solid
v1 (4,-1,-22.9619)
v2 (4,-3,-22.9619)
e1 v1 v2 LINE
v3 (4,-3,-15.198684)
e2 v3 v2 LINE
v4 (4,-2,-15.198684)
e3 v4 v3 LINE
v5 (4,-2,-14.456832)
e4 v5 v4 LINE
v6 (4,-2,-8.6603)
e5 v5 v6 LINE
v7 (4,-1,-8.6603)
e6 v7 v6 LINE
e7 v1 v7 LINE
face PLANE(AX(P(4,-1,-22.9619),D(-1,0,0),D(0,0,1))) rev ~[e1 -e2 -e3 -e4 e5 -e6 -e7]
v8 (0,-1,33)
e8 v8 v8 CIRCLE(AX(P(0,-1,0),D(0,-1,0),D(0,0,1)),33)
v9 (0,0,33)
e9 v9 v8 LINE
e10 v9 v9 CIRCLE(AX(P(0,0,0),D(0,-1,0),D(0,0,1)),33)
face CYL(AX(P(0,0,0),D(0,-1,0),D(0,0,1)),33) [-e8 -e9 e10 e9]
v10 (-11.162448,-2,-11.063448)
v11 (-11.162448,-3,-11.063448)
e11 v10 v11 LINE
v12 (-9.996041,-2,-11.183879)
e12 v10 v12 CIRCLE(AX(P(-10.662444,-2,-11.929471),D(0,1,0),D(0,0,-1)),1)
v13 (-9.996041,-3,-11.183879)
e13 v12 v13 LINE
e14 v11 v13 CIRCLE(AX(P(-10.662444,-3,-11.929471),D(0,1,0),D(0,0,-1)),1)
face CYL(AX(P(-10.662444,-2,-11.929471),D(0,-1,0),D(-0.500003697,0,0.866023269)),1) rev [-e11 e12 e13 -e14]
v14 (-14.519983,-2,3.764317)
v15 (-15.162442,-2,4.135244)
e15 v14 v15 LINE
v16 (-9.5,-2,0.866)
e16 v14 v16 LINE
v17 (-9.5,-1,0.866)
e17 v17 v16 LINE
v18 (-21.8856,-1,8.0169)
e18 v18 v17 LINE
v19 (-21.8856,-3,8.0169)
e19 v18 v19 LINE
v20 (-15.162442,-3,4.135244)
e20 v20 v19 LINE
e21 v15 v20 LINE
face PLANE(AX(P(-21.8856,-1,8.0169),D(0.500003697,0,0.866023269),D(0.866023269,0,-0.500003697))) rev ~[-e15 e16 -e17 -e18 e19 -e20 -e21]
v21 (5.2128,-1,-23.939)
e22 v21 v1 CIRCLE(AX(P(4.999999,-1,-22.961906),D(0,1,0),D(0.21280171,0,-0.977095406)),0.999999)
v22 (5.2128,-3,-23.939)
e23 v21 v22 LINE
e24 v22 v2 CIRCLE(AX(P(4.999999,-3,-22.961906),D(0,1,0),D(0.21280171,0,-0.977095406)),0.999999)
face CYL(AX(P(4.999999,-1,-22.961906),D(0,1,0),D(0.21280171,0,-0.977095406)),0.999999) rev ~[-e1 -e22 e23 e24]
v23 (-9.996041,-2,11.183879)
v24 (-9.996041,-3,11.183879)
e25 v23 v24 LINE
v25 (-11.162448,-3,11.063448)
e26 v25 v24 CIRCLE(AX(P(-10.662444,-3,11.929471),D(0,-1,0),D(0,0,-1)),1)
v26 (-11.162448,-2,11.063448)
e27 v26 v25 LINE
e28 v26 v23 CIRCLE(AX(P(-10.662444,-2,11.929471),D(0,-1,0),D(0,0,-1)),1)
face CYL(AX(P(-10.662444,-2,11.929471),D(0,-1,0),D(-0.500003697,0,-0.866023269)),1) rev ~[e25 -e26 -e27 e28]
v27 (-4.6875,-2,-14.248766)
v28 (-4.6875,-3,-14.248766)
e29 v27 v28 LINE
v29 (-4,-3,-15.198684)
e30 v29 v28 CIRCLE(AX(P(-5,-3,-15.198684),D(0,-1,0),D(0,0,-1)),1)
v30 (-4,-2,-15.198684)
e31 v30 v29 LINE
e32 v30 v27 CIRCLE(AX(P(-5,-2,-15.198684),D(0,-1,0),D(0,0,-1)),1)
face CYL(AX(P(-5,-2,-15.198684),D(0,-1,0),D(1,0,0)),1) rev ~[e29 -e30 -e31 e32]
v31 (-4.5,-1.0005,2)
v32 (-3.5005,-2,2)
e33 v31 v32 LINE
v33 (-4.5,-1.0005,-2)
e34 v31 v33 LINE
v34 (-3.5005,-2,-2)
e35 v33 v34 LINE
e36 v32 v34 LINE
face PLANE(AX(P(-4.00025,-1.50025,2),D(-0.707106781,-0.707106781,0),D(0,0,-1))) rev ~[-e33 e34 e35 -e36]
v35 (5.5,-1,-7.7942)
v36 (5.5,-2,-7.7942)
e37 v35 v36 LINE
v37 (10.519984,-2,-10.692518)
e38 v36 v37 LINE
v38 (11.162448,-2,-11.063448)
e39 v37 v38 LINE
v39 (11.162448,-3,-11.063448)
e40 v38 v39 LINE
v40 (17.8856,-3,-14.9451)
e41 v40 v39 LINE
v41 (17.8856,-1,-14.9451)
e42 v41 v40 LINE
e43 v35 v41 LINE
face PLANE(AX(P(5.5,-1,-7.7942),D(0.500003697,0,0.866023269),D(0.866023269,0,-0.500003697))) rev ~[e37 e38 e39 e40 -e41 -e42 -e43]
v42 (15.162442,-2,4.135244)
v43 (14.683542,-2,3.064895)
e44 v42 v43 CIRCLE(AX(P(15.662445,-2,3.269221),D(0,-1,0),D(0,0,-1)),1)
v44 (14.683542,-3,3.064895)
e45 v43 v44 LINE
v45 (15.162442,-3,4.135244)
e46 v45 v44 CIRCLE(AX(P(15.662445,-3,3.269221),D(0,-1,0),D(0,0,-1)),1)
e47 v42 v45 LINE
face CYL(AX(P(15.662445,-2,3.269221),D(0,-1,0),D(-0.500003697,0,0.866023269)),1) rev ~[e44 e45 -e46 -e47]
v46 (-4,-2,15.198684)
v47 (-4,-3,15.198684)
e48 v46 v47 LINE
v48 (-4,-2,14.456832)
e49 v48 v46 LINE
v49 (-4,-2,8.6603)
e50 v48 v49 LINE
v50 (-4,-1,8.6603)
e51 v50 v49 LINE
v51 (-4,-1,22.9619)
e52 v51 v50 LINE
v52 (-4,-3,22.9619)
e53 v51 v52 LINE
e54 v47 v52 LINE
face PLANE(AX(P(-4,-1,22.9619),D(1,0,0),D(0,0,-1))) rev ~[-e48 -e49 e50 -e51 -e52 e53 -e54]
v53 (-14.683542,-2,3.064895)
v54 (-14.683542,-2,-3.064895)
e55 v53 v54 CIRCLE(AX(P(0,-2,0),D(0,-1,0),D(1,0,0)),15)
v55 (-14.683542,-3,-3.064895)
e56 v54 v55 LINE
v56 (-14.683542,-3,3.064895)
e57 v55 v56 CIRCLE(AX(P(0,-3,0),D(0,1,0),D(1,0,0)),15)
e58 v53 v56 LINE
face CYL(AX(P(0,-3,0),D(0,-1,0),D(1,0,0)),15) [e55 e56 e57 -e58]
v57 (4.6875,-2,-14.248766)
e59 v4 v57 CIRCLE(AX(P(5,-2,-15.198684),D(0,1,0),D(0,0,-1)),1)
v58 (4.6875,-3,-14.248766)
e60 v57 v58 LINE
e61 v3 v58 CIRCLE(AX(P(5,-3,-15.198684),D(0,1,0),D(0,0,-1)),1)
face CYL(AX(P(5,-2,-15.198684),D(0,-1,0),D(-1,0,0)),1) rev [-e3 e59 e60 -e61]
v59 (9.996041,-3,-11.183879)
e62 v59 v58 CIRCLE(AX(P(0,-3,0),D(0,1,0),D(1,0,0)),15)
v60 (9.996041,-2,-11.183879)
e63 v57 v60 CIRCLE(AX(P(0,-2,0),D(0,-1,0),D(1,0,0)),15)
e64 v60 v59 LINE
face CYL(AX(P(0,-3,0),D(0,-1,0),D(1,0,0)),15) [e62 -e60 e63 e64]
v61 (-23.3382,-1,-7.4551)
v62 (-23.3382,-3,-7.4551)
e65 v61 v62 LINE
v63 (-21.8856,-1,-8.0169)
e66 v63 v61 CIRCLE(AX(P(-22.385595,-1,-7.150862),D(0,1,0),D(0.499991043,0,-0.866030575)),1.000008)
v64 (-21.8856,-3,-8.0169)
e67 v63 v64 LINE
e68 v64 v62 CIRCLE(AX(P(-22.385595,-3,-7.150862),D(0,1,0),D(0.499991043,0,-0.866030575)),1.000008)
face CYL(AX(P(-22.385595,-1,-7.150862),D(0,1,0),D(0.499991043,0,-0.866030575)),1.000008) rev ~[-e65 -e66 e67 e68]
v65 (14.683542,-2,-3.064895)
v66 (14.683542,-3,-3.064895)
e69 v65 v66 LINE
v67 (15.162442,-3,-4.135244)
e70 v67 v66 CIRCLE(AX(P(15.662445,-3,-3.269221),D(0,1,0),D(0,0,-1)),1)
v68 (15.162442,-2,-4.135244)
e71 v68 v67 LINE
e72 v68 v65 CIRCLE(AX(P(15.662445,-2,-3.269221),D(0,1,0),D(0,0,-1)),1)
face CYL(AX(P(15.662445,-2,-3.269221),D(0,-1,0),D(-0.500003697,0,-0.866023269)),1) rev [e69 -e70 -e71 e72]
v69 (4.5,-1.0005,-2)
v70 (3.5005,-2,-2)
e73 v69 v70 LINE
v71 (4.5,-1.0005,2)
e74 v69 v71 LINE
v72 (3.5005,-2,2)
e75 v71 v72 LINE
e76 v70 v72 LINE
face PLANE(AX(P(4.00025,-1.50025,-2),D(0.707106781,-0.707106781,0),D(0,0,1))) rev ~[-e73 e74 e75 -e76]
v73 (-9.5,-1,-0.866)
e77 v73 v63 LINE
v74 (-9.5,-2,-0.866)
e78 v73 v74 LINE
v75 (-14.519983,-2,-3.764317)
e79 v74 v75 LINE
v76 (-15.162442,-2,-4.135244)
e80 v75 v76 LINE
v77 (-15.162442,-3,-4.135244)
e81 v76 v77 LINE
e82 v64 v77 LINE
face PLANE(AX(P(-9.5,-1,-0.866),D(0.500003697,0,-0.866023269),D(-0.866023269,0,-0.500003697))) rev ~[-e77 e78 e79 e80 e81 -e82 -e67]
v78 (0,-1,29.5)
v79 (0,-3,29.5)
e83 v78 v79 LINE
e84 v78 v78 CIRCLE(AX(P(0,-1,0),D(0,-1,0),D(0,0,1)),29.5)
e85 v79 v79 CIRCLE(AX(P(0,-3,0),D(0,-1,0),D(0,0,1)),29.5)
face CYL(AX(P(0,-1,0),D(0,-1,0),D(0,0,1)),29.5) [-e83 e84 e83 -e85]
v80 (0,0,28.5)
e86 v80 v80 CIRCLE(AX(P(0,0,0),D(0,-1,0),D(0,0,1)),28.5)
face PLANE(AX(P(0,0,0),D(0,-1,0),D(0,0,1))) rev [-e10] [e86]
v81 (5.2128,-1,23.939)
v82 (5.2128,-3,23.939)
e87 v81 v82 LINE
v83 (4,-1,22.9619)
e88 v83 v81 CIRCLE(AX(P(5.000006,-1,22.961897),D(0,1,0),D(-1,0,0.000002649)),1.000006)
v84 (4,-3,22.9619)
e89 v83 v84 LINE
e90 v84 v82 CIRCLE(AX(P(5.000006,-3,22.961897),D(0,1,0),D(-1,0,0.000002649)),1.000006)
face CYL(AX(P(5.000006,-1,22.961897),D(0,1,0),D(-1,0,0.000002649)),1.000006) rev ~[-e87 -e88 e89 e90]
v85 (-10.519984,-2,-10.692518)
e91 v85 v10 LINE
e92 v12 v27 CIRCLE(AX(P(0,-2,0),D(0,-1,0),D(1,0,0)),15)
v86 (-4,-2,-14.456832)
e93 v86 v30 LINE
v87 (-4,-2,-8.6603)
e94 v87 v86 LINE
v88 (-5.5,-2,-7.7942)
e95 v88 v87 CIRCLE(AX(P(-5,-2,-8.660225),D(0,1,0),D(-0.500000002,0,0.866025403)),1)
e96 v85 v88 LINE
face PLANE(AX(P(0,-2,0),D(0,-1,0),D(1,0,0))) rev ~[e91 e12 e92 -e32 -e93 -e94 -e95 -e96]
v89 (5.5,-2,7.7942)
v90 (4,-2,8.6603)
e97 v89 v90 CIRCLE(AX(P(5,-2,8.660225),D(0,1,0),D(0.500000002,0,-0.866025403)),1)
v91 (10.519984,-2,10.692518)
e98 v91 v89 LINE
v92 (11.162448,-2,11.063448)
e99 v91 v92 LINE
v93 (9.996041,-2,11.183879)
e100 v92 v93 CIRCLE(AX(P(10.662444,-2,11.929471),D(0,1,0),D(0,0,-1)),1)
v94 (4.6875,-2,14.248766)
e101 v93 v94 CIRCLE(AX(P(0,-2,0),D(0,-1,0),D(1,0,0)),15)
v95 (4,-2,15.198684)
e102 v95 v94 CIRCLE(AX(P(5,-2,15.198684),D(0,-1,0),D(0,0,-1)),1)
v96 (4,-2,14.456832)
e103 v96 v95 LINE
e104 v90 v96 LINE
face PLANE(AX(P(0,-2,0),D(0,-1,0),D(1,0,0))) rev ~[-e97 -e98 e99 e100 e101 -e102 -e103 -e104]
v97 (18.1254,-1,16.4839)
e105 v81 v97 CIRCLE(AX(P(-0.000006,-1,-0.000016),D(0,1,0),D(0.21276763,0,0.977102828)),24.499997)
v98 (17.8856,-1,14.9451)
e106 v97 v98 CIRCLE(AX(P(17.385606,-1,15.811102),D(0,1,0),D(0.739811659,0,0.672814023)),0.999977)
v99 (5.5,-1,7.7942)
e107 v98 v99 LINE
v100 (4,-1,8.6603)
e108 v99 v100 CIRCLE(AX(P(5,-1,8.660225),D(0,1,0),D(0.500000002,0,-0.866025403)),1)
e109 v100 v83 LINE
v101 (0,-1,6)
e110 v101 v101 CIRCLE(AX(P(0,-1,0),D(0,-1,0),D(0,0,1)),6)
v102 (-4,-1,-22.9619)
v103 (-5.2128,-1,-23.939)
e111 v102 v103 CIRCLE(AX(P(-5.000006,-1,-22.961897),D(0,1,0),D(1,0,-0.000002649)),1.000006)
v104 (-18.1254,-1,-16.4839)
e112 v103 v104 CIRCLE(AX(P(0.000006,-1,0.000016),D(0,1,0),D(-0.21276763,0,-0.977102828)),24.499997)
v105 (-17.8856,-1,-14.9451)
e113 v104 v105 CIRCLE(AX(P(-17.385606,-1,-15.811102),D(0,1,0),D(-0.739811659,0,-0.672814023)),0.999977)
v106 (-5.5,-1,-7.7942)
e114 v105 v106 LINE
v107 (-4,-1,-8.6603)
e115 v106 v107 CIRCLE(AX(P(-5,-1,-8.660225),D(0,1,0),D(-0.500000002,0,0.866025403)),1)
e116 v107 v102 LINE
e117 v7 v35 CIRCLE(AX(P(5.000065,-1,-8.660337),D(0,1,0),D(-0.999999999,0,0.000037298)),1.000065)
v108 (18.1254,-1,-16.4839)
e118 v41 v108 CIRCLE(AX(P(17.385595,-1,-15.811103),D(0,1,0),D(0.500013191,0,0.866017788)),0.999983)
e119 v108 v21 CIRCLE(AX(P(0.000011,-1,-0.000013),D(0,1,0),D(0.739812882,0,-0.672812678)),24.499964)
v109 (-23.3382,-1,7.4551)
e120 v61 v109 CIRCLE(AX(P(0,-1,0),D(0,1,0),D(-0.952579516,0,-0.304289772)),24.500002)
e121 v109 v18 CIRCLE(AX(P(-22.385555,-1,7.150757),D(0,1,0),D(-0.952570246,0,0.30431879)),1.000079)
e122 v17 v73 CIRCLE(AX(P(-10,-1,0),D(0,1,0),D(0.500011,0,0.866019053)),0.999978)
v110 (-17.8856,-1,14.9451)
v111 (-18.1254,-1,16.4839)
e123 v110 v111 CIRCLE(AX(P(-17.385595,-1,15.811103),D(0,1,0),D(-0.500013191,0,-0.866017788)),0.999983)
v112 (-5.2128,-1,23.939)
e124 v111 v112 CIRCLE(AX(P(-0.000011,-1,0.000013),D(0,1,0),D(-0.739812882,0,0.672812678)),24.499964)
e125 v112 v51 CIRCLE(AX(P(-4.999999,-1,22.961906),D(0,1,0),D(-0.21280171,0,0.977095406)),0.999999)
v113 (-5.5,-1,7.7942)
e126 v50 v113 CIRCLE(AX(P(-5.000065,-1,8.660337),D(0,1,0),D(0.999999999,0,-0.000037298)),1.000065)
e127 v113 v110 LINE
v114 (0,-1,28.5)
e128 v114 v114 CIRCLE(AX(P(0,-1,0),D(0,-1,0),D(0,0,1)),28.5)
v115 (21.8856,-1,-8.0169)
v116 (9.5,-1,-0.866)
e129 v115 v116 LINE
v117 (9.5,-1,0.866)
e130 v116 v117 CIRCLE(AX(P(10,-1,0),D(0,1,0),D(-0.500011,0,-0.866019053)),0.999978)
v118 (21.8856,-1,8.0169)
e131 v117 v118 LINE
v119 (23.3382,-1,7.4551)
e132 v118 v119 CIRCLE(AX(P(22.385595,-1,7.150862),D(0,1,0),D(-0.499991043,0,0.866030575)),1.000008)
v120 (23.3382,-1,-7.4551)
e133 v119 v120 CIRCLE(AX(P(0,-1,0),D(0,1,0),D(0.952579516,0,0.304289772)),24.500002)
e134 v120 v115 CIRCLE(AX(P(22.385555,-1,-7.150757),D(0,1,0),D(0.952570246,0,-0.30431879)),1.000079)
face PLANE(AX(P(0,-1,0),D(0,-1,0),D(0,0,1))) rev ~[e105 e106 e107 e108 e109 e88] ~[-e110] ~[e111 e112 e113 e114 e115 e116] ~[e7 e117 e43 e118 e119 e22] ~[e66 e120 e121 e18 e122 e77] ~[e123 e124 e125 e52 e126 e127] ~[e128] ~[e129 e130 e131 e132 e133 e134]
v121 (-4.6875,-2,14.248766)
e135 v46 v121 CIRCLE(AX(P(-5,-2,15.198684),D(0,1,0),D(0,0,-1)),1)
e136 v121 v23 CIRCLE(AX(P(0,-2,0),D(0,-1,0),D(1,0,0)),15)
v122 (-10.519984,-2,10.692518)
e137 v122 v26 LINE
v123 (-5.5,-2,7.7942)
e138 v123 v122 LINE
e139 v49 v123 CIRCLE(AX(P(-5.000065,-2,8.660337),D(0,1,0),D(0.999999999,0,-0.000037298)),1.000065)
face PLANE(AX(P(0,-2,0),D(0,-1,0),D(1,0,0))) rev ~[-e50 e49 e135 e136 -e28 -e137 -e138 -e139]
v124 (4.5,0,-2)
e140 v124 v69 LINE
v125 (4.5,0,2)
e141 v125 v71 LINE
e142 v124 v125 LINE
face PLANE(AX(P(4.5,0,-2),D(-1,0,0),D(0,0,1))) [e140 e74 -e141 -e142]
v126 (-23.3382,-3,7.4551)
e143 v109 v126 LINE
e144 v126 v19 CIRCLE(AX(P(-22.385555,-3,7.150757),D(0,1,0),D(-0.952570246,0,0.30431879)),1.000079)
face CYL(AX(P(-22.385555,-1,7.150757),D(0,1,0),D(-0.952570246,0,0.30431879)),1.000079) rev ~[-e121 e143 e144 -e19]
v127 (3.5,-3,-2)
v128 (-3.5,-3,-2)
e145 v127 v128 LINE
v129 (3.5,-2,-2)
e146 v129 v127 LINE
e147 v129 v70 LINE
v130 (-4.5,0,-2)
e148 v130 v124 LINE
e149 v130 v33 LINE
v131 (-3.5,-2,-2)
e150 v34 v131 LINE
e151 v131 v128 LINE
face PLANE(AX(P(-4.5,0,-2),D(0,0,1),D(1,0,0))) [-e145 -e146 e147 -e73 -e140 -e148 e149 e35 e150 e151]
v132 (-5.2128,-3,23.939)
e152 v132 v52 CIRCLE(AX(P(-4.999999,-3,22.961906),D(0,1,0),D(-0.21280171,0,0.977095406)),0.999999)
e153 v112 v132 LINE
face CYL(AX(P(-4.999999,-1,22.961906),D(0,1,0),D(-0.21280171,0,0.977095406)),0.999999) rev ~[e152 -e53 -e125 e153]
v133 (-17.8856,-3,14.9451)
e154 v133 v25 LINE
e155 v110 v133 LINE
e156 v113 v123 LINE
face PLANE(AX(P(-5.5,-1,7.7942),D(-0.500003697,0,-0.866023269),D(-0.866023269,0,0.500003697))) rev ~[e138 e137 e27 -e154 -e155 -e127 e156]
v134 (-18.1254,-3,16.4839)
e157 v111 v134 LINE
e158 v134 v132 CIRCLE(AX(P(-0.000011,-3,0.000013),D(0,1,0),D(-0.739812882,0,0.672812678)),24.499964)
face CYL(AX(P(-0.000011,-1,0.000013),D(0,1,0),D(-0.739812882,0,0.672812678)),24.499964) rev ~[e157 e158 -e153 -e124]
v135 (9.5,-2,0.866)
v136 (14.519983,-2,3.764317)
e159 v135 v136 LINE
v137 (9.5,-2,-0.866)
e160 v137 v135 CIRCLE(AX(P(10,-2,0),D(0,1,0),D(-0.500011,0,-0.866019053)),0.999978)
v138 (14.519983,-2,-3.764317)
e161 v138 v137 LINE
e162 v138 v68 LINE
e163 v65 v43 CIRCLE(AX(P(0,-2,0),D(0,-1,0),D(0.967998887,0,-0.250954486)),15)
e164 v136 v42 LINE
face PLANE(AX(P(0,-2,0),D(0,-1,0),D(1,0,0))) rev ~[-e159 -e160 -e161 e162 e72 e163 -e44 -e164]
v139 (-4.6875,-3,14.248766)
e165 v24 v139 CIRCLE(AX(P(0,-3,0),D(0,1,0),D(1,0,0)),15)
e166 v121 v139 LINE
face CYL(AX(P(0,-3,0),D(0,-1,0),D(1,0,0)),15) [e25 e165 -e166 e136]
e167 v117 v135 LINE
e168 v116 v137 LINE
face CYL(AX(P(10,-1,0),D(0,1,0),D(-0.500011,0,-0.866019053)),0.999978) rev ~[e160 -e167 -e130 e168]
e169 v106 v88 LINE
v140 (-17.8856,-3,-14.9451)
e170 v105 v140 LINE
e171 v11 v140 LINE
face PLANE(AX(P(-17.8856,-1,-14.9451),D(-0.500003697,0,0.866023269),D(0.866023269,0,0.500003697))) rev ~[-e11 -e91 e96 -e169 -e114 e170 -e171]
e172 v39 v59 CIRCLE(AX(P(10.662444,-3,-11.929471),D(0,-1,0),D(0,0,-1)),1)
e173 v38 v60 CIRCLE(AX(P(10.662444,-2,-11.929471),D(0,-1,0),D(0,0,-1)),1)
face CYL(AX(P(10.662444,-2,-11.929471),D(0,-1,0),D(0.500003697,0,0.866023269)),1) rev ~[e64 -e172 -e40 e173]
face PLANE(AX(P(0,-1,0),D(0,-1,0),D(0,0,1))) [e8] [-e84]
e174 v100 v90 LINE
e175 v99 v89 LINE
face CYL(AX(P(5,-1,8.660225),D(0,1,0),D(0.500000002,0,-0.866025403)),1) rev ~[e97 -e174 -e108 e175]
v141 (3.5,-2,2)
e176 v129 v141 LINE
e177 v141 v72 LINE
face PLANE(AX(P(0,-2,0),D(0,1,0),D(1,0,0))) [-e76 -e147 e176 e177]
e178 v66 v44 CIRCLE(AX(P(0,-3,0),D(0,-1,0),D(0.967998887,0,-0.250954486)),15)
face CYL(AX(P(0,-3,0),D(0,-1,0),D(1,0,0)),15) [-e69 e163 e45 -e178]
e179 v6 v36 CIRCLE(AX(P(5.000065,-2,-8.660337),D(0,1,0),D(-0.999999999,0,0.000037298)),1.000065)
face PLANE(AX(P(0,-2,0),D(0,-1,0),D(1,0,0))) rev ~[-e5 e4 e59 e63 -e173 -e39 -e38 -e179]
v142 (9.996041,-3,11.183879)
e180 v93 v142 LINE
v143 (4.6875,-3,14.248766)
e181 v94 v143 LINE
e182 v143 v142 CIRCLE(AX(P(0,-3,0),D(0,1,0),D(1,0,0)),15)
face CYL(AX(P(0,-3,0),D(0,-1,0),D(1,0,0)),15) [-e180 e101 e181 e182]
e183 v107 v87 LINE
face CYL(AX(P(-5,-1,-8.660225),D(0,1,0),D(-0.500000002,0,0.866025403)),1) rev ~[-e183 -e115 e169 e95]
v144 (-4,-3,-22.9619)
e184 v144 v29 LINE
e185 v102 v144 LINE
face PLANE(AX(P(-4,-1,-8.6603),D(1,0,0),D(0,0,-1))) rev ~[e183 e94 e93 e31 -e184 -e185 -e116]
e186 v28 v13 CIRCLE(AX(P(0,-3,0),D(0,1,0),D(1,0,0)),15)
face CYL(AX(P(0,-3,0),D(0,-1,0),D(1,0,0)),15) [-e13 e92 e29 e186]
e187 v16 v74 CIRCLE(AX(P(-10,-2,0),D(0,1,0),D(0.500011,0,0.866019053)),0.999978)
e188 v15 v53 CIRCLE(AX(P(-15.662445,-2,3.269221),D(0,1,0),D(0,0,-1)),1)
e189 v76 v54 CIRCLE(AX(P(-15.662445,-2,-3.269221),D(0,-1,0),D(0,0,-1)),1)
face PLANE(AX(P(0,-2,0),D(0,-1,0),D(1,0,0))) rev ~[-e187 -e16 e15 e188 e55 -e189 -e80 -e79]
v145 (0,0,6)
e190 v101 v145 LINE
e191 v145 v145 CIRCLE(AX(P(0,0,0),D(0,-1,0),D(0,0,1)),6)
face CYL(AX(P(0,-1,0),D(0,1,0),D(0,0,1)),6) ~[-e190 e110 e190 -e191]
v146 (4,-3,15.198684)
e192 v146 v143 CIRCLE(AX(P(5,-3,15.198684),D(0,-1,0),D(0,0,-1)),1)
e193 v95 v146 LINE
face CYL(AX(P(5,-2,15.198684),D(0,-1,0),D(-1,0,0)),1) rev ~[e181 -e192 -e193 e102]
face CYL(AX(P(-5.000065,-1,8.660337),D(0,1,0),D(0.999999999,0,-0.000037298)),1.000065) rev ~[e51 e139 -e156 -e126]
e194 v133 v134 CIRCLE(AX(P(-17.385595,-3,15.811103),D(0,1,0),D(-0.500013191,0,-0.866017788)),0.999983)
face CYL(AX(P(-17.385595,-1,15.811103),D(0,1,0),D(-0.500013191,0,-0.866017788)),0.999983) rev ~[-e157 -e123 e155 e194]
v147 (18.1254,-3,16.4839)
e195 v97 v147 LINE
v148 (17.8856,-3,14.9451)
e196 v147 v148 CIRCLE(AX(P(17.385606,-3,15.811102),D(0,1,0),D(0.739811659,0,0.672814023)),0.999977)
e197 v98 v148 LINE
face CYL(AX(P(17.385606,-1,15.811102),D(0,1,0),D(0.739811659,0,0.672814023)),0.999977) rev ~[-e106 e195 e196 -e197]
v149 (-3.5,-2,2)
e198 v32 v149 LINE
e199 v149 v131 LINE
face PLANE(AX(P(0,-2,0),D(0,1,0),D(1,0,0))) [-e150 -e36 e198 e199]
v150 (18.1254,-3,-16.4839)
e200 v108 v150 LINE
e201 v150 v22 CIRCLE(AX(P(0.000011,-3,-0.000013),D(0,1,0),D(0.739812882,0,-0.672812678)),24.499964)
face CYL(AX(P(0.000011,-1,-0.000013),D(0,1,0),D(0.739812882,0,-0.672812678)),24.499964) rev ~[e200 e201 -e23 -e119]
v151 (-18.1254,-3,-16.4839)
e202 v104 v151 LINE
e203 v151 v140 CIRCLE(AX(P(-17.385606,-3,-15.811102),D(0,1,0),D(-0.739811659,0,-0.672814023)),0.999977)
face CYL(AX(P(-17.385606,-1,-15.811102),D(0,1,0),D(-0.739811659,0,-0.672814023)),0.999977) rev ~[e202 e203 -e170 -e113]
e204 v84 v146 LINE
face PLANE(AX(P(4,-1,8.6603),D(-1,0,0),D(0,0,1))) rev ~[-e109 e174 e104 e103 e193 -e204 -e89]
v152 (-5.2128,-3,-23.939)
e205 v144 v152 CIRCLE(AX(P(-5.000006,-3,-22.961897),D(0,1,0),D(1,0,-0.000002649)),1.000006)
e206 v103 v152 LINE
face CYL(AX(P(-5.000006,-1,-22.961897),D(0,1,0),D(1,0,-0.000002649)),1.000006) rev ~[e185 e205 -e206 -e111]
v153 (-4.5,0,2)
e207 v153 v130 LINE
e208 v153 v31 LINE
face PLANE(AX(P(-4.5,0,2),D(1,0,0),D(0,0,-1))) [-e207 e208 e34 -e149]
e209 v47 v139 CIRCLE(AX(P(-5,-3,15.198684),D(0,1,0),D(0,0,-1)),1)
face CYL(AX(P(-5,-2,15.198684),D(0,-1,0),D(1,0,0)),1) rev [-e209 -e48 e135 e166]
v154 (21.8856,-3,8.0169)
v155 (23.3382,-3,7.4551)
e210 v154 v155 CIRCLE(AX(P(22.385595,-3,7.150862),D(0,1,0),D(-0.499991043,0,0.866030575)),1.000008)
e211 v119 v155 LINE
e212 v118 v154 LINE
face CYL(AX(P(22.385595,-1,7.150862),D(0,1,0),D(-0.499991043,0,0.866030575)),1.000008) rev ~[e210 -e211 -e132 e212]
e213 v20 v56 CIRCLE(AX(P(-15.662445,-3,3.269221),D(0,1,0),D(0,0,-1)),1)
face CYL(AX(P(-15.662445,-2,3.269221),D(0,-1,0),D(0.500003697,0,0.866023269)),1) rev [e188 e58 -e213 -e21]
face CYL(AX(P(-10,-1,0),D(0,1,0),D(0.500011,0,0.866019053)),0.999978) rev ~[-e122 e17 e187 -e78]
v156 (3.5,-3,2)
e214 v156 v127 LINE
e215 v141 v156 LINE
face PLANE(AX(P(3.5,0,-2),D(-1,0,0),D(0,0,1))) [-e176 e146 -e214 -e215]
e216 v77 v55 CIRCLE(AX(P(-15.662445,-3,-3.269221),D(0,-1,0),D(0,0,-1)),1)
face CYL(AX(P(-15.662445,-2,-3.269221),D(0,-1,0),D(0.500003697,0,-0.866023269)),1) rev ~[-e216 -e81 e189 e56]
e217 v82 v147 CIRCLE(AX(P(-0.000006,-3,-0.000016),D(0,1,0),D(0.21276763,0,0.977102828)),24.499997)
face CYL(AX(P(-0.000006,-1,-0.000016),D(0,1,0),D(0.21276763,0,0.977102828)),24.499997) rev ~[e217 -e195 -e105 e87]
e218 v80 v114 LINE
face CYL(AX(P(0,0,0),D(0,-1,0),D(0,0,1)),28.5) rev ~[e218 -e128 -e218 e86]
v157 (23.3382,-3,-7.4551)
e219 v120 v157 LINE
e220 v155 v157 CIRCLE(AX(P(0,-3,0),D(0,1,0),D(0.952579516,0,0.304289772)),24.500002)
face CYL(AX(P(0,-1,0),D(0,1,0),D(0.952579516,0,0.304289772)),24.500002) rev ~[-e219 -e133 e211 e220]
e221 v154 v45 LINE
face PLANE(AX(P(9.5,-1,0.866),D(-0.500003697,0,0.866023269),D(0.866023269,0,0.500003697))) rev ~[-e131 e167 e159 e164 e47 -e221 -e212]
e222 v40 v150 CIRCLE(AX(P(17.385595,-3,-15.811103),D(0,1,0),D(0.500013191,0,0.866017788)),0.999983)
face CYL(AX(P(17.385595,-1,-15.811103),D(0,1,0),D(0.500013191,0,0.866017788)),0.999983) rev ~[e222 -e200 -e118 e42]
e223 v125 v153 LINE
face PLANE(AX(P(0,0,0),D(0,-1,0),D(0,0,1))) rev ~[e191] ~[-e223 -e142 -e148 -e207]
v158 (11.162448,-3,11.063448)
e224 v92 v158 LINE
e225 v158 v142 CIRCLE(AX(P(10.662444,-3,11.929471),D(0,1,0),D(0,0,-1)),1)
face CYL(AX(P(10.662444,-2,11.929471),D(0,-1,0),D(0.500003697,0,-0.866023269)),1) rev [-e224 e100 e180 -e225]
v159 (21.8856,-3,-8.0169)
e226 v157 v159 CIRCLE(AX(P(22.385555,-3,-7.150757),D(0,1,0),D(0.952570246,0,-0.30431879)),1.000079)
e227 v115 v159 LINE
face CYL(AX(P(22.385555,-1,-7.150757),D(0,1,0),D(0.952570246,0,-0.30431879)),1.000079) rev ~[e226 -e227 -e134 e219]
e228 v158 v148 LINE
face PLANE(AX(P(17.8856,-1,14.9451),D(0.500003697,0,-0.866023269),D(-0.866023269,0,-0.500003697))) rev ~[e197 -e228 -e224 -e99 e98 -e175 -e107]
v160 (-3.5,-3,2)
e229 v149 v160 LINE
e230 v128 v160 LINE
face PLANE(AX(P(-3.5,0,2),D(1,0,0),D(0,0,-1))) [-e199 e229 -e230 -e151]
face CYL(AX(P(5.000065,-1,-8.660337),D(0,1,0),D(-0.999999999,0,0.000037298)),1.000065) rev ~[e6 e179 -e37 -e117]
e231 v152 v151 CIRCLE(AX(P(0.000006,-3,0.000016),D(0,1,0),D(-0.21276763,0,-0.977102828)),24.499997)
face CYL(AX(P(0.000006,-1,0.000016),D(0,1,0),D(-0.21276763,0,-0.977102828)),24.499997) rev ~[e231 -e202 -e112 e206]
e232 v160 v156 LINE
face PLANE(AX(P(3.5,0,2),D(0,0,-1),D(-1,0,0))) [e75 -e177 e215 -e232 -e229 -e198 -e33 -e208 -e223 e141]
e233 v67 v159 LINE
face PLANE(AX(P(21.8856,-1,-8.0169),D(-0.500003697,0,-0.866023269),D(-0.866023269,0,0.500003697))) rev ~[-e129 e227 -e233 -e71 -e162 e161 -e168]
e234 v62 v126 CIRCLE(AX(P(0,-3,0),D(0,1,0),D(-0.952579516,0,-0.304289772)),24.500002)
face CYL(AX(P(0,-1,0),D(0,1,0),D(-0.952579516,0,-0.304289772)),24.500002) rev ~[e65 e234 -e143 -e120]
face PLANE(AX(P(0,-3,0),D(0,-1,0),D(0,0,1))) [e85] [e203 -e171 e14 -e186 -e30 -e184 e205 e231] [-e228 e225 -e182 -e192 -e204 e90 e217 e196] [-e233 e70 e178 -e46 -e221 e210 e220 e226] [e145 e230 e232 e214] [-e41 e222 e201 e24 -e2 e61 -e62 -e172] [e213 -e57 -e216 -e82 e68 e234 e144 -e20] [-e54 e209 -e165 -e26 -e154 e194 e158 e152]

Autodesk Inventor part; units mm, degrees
ref_plane "YZ Plane" through (0, 0, 0) normal (1, 0, 0) x (0, 1, 0)
ref_plane "XZ Plane" through (0, 0, 0) normal (0, 1, 0) x (-1, 0, 0)
ref_plane "XY Plane" through (0, 0, 0) normal (0, 0, 1) x (1, 0, 0)
sketch "Sketch1" plane through (0, 0, 0) normal (1, 0, 0) x (0, 1, 0)
  line L0 (0, 0) -> (-3, 0)
  line L1 (0, 28.5) -> (0, 33)
  line L2 (0, 33) -> (-1, 33)
  line L3 (-1, 33) -> (-1, 29.5)
  line L4 (-1, 29.5) -> (-3, 29.5)
  line L5 (-3, 29.5) -> (-3, 0)
  line L6 (0, 28.5) -> (-1, 28.5)
  line L7 (-1, 28.5) -> (-1, 5)
  line L8 (-2, 2.5) -> (-3, 2.5)
  line L9 (-1, 5) -> (-2, 5)
  line L10 (-2, 5) -> (-2, 0)
  line L11 (0, 33) -> (0, 0) construction
  line L12 (-1, 5) -> (0, 5)
  line L13 (-1, 6) -> (0, 6)
  line L14 (0, 5) -> (0, 6)
  line L15 (0, 6) -> (0, 0)
  line L16 (0, 0) -> (-3, 0)
  point P0 (-1, 2.5)
  point P1 (0, 5)
  dimension "d0" = 66
  dimension "d2" = 3
  dimension "d3" = 1
  dimension "d6" = 1
  dimension "d20" = 5
  dimension "d21" = 10
  dimension "d22" = 1
  dimension "d23" = 1
  dimension "d31" = 59
  dimension "d32" = 1
revolve "Revolution1" add sketch "Sketch1" angle 360 about axis through (0, 0, 0) along (0, -1, 0)
sketch "Sketch2" plane through (0, -1, 0) normal (0, 1, 0) x (1, 0, 0)
  arc A0 (-24.6817, 14.25) -> (-24.6817, -14.25) centre (0, 0) ccw
  line L0 (-1.7321, -1) -> (-24.6817, -14.25)
  line L1 (-1.7321, 1) -> (-24.6817, 14.25)
  arc A1 (-1.7321, 1) -> (-1.7321, -1) centre (0, 0) ccw
  line L2 (-28.5, 0) -> (0, 0) construction
  line L3 (0, 0) -> (-24.6817, -14.25) construction
  line L4 (0, 0) -> (-24.6817, 14.25) construction
  line L5 (-21.8856, -8.0169) -> (-9.5, -0.866)
  arc A2 (-5.873, -1.228) -> (-5.873, 1.228) centre (0, 0) ccw
  line L6 (-9.5, 0.866) -> (-21.8856, 8.0169)
  arc A3 (-23.3382, 7.4551) -> (-23.3382, -7.4551) centre (0, 0) ccw
  arc A4 (-9.5, -0.866) -> (-9.5, 0.866) centre (-10, 0) ccw
  arc A5 (-21.8856, 8.0169) -> (-23.3382, 7.4551) centre (-22.3856, 7.1508) ccw
  arc A6 (-23.3382, -7.4551) -> (-21.8856, -8.0169) centre (-22.3856, -7.1508) ccw
  arc A7 (-18.1254, -16.4839) -> (-5.2128, -23.939) centre (0, 0) ccw
  arc A8 (-5.2128, -23.939) -> (-4, -22.9619) centre (-5, -22.9619) ccw
  line L7 (-4, -22.9619) -> (-4, -8.6603)
  arc A9 (-4, -8.6603) -> (-5.5, -7.7942) centre (-5, -8.6603) ccw
  line L8 (-5.5, -7.7942) -> (-17.8856, -14.9451)
  arc A10 (-17.8856, -14.9451) -> (-18.1254, -16.4839) centre (-17.3856, -15.8111) ccw
  arc A11 (5.2128, -23.939) -> (18.1254, -16.4839) centre (0, 0) ccw
  arc A12 (18.1254, -16.4839) -> (17.8856, -14.9451) centre (17.3856, -15.8111) ccw
  line L9 (17.8856, -14.9451) -> (5.5, -7.7942)
  arc A13 (5.5, -7.7942) -> (4, -8.6603) centre (5, -8.6603) ccw
  line L10 (4, -8.6603) -> (4, -22.9619)
  arc A14 (4, -22.9619) -> (5.2128, -23.939) centre (5, -22.9619) ccw
  arc A15 (23.3382, -7.4551) -> (23.3382, 7.4551) centre (0, 0) ccw
  arc A16 (23.3382, 7.4551) -> (21.8856, 8.0169) centre (22.3856, 7.1508) ccw
  line L11 (21.8856, 8.0169) -> (9.5, 0.866)
  arc A17 (9.5, 0.866) -> (9.5, -0.866) centre (10, 0) ccw
  line L12 (9.5, -0.866) -> (21.8856, -8.0169)
  arc A18 (21.8856, -8.0169) -> (23.3382, -7.4551) centre (22.3856, -7.1508) ccw
  arc A19 (18.1254, 16.4839) -> (5.2128, 23.939) centre (0, 0) ccw
  arc A20 (5.2128, 23.939) -> (4, 22.9619) centre (5, 22.9619) ccw
  line L13 (4, 22.9619) -> (4, 8.6603)
  arc A21 (4, 8.6603) -> (5.5, 7.7942) centre (5, 8.6603) ccw
  line L14 (5.5, 7.7942) -> (17.8856, 14.9451)
  arc A22 (17.8856, 14.9451) -> (18.1254, 16.4839) centre (17.3856, 15.8111) ccw
  arc A23 (-5.2128, 23.939) -> (-18.1254, 16.4839) centre (0, 0) ccw
  arc A24 (-18.1254, 16.4839) -> (-17.8856, 14.9451) centre (-17.3856, 15.8111) ccw
  line L15 (-17.8856, 14.9451) -> (-5.5, 7.7942)
  arc A25 (-5.5, 7.7942) -> (-4, 8.6603) centre (-5, 8.6603) ccw
  line L16 (-4, 8.6603) -> (-4, 22.9619)
  arc A26 (-4, 22.9619) -> (-5.2128, 23.939) centre (-5, 22.9619) ccw
  circle A27 centre (0, 0) radius 28.5 construction
  point P0 (-22.9329, -8.6215)
  point P1 (-22.9329, 8.6215)
  point P2 (-4, -4.4721)
  point P3 (-1.873, -5.7002)
  point P4 (1.873, -5.7002)
  point P5 (4, -4.4721)
  point P6 (5.873, -1.228)
  point P7 (5.873, 1.228)
  point P8 (4, 4.4721)
  point P9 (1.873, 5.7002)
  point P10 (-1.873, 5.7002)
  point P11 (-4, 4.4721)
  dimension "d7" = 60
  dimension "d8" = 2
  dimension "d13" = 4
  dimension "d15" = 1
  dimension "d18" = 360
extrude "Extrusion1" cut sketch "Sketch2" against normal through all contours A6 A3 A5 L6 A4 L5 | A10 L8 A9 L7 A8 A7 | A14 L10 A13 L9 A12 A11 | A18 L12 A17 L11 A16 A15 | A22 L14 A21 L13 A20 A19 | A26 L16 A25 L15 A24 A23
sketch "Sketch3" plane through (0, 0, 0) normal (0, 1, 0) x (1, 0, 0)
  line L0 (3.5, -2) -> (-3.5, -2)
  line L1 (-3.5, -2) -> (-3.5, 2)
  line L2 (-3.5, 2) -> (3.5, 2)
  line L3 (3.5, 2) -> (3.5, -2)
  line L4 (3.5, -2) -> (-3.5, 2) construction
  line L5 (-3.5, -2) -> (3.5, 2) construction
  circle A0 centre (0, 0) radius 33 projected
  circle A1 centre (0, 0) radius 28.5 projected
  circle A2 centre (0, 0) radius 6 projected
  line L6 (-5.6569, -2) -> (5.6569, -2)
  circle A3 centre (0, 0) radius 6 projected
  line L7 (-5.6569, 2) -> (5.6569, 2)
  line L8 (-4.5, -2) -> (-4.5, 2)
  line L9 (4.5, 2) -> (4.5, -2)
  line L10 (0, -2) -> (0, 2) construction
  point P0 (3.5, 2)
  point P1 (3.5, -2)
  point P2 (-3.5, -2)
  point P3 (-3.5, 2)
  dimension "d24" = 4
  dimension "d27" = 9
  dimension "d36" = 7
extrude "Extrusion2" cut sketch "Sketch3" against normal through all contours L0 L1 L2 L3
extrude "Extrusion3" cut sketch "Sketch3" against normal blind 2 contours L3 L7 L9 L6 | L6 L8 L7 L1
chamfer "Chamfer1" distance 1 angle 45 2 edges at (-4.5, -2, 0) (4.5, -2, 0)
sketch "Sketch4" plane through (0, -3, 0) normal (0, -1, 0) x (1, 0, 0)
  line L0 (-3.5, -2) -> (3.5, -2) projected
  line L1 (3.5, -2) -> (3.5, 2) projected
  line L2 (3.5, 2) -> (-3.5, 2) projected
  line L3 (-3.5, 2) -> (-3.5, -2) projected
  arc A0 (18.1254, -16.4839) -> (17.8856, -14.9451) centre (17.3856, -15.8111) ccw projected
  line L4 (17.8856, -14.9451) -> (5.5, -7.7942) projected
  arc A1 (5.5, -7.7942) -> (4, -8.6603) centre (5, -8.6603) ccw projected
  line L5 (4, -8.6603) -> (4, -22.9619) projected
  arc A2 (4, -22.9619) -> (5.2128, -23.939) centre (5, -22.9619) ccw projected
  arc A3 (5.2128, -23.939) -> (18.1254, -16.4839) centre (0, 0) ccw projected
  arc A4 (-18.1254, 16.4839) -> (-17.8856, 14.9451) centre (-17.3856, 15.8111) ccw projected
  line L6 (-17.8856, 14.9451) -> (-5.5, 7.7942) projected
  arc A5 (-5.5, 7.7942) -> (-4, 8.6603) centre (-5, 8.6603) ccw projected
  line L7 (-4, 8.6603) -> (-4, 22.9619) projected
  arc A6 (-4, 22.9619) -> (-5.2128, 23.939) centre (-5, 22.9619) ccw projected
  arc A7 (-5.2128, 23.939) -> (-18.1254, 16.4839) centre (0, 0) ccw projected
  arc A8 (-5.2128, -23.939) -> (-4, -22.9619) centre (-5, -22.9619) ccw projected
  line L8 (-4, -22.9619) -> (-4, -8.6603) projected
  arc A9 (-4, -8.6603) -> (-5.5, -7.7942) centre (-5, -8.6603) ccw projected
  line L9 (-5.5, -7.7942) -> (-17.8856, -14.9451) projected
  arc A10 (-17.8856, -14.9451) -> (-18.1254, -16.4839) centre (-17.3856, -15.8111) ccw projected
  arc A11 (-18.1254, -16.4839) -> (-5.2128, -23.939) centre (0, 0) ccw projected
  arc A12 (23.3382, 7.4551) -> (21.8856, 8.0169) centre (22.3856, 7.1508) ccw projected
  line L10 (21.8856, 8.0169) -> (9.5, 0.866) projected
  arc A13 (9.5, 0.866) -> (9.5, -0.866) centre (10, 0) ccw projected
  line L11 (9.5, -0.866) -> (21.8856, -8.0169) projected
  arc A14 (21.8856, -8.0169) -> (23.3382, -7.4551) centre (22.3856, -7.1508) ccw projected
  arc A15 (23.3382, -7.4551) -> (23.3382, 7.4551) centre (0, 0) ccw projected
  arc A16 (5.2128, 23.939) -> (4, 22.9619) centre (5, 22.9619) ccw projected
  line L12 (4, 22.9619) -> (4, 8.6603) projected
  arc A17 (4, 8.6603) -> (5.5, 7.7942) centre (5, 8.6603) ccw projected
  line L13 (5.5, 7.7942) -> (17.8856, 14.9451) projected
  arc A18 (17.8856, 14.9451) -> (18.1254, 16.4839) centre (17.3856, 15.8111) ccw projected
  arc A19 (18.1254, 16.4839) -> (5.2128, 23.939) centre (0, 0) ccw projected
  arc A20 (-21.8856, 8.0169) -> (-23.3382, 7.4551) centre (-22.3856, 7.1508) ccw projected
  arc A21 (-23.3382, 7.4551) -> (-23.3382, -7.4551) centre (0, 0) ccw projected
  arc A22 (-23.3382, -7.4551) -> (-21.8856, -8.0169) centre (-22.3856, -7.1508) ccw projected
  line L14 (-21.8856, -8.0169) -> (-9.5, -0.866) projected
  arc A23 (-9.5, -0.866) -> (-9.5, 0.866) centre (-10, 0) ccw projected
  line L15 (-9.5, 0.866) -> (-21.8856, 8.0169) projected
  circle A24 centre (0, 0) radius 29.5 projected
  circle A25 centre (0, 0) radius 15
  dimension "d33" = 30
extrude "Extrusion4" add sketch "Sketch4" against normal blind 1 contours A25 L5 A1 L4 | L4 A1 L5 A25 L8 A9 L9 L14 A23 L15 L6 A5 L7 L12 A17 L13 L10 A13 L11 | L11 A13 L10 A25 | A25 L9 A9 L8 | A25 L15 A23 L14 | L13 A17 L12 A25 | A25 L7 A5 L6
fillet "Fillet2" radius 1 12 edges at (4, -2.5, -14.4568) (10.52, -2.5, -10.6925) (14.52, -2.5, -3.7643) (14.52, -2.5, 3.7643) (10.52, -2.5, 10.6925) (4, -2.5, 14.4568) (-4, -2.5, 14.4568) (-14.52, -2.5, -3.7643) (-4, -2.5, -14.4568) (-10.52, -2.5, -10.6925) (-14.52, -2.5, 3.7643) (-10.52, -2.5, 10.6925)
properties part number "FS-03-SLBV1"
